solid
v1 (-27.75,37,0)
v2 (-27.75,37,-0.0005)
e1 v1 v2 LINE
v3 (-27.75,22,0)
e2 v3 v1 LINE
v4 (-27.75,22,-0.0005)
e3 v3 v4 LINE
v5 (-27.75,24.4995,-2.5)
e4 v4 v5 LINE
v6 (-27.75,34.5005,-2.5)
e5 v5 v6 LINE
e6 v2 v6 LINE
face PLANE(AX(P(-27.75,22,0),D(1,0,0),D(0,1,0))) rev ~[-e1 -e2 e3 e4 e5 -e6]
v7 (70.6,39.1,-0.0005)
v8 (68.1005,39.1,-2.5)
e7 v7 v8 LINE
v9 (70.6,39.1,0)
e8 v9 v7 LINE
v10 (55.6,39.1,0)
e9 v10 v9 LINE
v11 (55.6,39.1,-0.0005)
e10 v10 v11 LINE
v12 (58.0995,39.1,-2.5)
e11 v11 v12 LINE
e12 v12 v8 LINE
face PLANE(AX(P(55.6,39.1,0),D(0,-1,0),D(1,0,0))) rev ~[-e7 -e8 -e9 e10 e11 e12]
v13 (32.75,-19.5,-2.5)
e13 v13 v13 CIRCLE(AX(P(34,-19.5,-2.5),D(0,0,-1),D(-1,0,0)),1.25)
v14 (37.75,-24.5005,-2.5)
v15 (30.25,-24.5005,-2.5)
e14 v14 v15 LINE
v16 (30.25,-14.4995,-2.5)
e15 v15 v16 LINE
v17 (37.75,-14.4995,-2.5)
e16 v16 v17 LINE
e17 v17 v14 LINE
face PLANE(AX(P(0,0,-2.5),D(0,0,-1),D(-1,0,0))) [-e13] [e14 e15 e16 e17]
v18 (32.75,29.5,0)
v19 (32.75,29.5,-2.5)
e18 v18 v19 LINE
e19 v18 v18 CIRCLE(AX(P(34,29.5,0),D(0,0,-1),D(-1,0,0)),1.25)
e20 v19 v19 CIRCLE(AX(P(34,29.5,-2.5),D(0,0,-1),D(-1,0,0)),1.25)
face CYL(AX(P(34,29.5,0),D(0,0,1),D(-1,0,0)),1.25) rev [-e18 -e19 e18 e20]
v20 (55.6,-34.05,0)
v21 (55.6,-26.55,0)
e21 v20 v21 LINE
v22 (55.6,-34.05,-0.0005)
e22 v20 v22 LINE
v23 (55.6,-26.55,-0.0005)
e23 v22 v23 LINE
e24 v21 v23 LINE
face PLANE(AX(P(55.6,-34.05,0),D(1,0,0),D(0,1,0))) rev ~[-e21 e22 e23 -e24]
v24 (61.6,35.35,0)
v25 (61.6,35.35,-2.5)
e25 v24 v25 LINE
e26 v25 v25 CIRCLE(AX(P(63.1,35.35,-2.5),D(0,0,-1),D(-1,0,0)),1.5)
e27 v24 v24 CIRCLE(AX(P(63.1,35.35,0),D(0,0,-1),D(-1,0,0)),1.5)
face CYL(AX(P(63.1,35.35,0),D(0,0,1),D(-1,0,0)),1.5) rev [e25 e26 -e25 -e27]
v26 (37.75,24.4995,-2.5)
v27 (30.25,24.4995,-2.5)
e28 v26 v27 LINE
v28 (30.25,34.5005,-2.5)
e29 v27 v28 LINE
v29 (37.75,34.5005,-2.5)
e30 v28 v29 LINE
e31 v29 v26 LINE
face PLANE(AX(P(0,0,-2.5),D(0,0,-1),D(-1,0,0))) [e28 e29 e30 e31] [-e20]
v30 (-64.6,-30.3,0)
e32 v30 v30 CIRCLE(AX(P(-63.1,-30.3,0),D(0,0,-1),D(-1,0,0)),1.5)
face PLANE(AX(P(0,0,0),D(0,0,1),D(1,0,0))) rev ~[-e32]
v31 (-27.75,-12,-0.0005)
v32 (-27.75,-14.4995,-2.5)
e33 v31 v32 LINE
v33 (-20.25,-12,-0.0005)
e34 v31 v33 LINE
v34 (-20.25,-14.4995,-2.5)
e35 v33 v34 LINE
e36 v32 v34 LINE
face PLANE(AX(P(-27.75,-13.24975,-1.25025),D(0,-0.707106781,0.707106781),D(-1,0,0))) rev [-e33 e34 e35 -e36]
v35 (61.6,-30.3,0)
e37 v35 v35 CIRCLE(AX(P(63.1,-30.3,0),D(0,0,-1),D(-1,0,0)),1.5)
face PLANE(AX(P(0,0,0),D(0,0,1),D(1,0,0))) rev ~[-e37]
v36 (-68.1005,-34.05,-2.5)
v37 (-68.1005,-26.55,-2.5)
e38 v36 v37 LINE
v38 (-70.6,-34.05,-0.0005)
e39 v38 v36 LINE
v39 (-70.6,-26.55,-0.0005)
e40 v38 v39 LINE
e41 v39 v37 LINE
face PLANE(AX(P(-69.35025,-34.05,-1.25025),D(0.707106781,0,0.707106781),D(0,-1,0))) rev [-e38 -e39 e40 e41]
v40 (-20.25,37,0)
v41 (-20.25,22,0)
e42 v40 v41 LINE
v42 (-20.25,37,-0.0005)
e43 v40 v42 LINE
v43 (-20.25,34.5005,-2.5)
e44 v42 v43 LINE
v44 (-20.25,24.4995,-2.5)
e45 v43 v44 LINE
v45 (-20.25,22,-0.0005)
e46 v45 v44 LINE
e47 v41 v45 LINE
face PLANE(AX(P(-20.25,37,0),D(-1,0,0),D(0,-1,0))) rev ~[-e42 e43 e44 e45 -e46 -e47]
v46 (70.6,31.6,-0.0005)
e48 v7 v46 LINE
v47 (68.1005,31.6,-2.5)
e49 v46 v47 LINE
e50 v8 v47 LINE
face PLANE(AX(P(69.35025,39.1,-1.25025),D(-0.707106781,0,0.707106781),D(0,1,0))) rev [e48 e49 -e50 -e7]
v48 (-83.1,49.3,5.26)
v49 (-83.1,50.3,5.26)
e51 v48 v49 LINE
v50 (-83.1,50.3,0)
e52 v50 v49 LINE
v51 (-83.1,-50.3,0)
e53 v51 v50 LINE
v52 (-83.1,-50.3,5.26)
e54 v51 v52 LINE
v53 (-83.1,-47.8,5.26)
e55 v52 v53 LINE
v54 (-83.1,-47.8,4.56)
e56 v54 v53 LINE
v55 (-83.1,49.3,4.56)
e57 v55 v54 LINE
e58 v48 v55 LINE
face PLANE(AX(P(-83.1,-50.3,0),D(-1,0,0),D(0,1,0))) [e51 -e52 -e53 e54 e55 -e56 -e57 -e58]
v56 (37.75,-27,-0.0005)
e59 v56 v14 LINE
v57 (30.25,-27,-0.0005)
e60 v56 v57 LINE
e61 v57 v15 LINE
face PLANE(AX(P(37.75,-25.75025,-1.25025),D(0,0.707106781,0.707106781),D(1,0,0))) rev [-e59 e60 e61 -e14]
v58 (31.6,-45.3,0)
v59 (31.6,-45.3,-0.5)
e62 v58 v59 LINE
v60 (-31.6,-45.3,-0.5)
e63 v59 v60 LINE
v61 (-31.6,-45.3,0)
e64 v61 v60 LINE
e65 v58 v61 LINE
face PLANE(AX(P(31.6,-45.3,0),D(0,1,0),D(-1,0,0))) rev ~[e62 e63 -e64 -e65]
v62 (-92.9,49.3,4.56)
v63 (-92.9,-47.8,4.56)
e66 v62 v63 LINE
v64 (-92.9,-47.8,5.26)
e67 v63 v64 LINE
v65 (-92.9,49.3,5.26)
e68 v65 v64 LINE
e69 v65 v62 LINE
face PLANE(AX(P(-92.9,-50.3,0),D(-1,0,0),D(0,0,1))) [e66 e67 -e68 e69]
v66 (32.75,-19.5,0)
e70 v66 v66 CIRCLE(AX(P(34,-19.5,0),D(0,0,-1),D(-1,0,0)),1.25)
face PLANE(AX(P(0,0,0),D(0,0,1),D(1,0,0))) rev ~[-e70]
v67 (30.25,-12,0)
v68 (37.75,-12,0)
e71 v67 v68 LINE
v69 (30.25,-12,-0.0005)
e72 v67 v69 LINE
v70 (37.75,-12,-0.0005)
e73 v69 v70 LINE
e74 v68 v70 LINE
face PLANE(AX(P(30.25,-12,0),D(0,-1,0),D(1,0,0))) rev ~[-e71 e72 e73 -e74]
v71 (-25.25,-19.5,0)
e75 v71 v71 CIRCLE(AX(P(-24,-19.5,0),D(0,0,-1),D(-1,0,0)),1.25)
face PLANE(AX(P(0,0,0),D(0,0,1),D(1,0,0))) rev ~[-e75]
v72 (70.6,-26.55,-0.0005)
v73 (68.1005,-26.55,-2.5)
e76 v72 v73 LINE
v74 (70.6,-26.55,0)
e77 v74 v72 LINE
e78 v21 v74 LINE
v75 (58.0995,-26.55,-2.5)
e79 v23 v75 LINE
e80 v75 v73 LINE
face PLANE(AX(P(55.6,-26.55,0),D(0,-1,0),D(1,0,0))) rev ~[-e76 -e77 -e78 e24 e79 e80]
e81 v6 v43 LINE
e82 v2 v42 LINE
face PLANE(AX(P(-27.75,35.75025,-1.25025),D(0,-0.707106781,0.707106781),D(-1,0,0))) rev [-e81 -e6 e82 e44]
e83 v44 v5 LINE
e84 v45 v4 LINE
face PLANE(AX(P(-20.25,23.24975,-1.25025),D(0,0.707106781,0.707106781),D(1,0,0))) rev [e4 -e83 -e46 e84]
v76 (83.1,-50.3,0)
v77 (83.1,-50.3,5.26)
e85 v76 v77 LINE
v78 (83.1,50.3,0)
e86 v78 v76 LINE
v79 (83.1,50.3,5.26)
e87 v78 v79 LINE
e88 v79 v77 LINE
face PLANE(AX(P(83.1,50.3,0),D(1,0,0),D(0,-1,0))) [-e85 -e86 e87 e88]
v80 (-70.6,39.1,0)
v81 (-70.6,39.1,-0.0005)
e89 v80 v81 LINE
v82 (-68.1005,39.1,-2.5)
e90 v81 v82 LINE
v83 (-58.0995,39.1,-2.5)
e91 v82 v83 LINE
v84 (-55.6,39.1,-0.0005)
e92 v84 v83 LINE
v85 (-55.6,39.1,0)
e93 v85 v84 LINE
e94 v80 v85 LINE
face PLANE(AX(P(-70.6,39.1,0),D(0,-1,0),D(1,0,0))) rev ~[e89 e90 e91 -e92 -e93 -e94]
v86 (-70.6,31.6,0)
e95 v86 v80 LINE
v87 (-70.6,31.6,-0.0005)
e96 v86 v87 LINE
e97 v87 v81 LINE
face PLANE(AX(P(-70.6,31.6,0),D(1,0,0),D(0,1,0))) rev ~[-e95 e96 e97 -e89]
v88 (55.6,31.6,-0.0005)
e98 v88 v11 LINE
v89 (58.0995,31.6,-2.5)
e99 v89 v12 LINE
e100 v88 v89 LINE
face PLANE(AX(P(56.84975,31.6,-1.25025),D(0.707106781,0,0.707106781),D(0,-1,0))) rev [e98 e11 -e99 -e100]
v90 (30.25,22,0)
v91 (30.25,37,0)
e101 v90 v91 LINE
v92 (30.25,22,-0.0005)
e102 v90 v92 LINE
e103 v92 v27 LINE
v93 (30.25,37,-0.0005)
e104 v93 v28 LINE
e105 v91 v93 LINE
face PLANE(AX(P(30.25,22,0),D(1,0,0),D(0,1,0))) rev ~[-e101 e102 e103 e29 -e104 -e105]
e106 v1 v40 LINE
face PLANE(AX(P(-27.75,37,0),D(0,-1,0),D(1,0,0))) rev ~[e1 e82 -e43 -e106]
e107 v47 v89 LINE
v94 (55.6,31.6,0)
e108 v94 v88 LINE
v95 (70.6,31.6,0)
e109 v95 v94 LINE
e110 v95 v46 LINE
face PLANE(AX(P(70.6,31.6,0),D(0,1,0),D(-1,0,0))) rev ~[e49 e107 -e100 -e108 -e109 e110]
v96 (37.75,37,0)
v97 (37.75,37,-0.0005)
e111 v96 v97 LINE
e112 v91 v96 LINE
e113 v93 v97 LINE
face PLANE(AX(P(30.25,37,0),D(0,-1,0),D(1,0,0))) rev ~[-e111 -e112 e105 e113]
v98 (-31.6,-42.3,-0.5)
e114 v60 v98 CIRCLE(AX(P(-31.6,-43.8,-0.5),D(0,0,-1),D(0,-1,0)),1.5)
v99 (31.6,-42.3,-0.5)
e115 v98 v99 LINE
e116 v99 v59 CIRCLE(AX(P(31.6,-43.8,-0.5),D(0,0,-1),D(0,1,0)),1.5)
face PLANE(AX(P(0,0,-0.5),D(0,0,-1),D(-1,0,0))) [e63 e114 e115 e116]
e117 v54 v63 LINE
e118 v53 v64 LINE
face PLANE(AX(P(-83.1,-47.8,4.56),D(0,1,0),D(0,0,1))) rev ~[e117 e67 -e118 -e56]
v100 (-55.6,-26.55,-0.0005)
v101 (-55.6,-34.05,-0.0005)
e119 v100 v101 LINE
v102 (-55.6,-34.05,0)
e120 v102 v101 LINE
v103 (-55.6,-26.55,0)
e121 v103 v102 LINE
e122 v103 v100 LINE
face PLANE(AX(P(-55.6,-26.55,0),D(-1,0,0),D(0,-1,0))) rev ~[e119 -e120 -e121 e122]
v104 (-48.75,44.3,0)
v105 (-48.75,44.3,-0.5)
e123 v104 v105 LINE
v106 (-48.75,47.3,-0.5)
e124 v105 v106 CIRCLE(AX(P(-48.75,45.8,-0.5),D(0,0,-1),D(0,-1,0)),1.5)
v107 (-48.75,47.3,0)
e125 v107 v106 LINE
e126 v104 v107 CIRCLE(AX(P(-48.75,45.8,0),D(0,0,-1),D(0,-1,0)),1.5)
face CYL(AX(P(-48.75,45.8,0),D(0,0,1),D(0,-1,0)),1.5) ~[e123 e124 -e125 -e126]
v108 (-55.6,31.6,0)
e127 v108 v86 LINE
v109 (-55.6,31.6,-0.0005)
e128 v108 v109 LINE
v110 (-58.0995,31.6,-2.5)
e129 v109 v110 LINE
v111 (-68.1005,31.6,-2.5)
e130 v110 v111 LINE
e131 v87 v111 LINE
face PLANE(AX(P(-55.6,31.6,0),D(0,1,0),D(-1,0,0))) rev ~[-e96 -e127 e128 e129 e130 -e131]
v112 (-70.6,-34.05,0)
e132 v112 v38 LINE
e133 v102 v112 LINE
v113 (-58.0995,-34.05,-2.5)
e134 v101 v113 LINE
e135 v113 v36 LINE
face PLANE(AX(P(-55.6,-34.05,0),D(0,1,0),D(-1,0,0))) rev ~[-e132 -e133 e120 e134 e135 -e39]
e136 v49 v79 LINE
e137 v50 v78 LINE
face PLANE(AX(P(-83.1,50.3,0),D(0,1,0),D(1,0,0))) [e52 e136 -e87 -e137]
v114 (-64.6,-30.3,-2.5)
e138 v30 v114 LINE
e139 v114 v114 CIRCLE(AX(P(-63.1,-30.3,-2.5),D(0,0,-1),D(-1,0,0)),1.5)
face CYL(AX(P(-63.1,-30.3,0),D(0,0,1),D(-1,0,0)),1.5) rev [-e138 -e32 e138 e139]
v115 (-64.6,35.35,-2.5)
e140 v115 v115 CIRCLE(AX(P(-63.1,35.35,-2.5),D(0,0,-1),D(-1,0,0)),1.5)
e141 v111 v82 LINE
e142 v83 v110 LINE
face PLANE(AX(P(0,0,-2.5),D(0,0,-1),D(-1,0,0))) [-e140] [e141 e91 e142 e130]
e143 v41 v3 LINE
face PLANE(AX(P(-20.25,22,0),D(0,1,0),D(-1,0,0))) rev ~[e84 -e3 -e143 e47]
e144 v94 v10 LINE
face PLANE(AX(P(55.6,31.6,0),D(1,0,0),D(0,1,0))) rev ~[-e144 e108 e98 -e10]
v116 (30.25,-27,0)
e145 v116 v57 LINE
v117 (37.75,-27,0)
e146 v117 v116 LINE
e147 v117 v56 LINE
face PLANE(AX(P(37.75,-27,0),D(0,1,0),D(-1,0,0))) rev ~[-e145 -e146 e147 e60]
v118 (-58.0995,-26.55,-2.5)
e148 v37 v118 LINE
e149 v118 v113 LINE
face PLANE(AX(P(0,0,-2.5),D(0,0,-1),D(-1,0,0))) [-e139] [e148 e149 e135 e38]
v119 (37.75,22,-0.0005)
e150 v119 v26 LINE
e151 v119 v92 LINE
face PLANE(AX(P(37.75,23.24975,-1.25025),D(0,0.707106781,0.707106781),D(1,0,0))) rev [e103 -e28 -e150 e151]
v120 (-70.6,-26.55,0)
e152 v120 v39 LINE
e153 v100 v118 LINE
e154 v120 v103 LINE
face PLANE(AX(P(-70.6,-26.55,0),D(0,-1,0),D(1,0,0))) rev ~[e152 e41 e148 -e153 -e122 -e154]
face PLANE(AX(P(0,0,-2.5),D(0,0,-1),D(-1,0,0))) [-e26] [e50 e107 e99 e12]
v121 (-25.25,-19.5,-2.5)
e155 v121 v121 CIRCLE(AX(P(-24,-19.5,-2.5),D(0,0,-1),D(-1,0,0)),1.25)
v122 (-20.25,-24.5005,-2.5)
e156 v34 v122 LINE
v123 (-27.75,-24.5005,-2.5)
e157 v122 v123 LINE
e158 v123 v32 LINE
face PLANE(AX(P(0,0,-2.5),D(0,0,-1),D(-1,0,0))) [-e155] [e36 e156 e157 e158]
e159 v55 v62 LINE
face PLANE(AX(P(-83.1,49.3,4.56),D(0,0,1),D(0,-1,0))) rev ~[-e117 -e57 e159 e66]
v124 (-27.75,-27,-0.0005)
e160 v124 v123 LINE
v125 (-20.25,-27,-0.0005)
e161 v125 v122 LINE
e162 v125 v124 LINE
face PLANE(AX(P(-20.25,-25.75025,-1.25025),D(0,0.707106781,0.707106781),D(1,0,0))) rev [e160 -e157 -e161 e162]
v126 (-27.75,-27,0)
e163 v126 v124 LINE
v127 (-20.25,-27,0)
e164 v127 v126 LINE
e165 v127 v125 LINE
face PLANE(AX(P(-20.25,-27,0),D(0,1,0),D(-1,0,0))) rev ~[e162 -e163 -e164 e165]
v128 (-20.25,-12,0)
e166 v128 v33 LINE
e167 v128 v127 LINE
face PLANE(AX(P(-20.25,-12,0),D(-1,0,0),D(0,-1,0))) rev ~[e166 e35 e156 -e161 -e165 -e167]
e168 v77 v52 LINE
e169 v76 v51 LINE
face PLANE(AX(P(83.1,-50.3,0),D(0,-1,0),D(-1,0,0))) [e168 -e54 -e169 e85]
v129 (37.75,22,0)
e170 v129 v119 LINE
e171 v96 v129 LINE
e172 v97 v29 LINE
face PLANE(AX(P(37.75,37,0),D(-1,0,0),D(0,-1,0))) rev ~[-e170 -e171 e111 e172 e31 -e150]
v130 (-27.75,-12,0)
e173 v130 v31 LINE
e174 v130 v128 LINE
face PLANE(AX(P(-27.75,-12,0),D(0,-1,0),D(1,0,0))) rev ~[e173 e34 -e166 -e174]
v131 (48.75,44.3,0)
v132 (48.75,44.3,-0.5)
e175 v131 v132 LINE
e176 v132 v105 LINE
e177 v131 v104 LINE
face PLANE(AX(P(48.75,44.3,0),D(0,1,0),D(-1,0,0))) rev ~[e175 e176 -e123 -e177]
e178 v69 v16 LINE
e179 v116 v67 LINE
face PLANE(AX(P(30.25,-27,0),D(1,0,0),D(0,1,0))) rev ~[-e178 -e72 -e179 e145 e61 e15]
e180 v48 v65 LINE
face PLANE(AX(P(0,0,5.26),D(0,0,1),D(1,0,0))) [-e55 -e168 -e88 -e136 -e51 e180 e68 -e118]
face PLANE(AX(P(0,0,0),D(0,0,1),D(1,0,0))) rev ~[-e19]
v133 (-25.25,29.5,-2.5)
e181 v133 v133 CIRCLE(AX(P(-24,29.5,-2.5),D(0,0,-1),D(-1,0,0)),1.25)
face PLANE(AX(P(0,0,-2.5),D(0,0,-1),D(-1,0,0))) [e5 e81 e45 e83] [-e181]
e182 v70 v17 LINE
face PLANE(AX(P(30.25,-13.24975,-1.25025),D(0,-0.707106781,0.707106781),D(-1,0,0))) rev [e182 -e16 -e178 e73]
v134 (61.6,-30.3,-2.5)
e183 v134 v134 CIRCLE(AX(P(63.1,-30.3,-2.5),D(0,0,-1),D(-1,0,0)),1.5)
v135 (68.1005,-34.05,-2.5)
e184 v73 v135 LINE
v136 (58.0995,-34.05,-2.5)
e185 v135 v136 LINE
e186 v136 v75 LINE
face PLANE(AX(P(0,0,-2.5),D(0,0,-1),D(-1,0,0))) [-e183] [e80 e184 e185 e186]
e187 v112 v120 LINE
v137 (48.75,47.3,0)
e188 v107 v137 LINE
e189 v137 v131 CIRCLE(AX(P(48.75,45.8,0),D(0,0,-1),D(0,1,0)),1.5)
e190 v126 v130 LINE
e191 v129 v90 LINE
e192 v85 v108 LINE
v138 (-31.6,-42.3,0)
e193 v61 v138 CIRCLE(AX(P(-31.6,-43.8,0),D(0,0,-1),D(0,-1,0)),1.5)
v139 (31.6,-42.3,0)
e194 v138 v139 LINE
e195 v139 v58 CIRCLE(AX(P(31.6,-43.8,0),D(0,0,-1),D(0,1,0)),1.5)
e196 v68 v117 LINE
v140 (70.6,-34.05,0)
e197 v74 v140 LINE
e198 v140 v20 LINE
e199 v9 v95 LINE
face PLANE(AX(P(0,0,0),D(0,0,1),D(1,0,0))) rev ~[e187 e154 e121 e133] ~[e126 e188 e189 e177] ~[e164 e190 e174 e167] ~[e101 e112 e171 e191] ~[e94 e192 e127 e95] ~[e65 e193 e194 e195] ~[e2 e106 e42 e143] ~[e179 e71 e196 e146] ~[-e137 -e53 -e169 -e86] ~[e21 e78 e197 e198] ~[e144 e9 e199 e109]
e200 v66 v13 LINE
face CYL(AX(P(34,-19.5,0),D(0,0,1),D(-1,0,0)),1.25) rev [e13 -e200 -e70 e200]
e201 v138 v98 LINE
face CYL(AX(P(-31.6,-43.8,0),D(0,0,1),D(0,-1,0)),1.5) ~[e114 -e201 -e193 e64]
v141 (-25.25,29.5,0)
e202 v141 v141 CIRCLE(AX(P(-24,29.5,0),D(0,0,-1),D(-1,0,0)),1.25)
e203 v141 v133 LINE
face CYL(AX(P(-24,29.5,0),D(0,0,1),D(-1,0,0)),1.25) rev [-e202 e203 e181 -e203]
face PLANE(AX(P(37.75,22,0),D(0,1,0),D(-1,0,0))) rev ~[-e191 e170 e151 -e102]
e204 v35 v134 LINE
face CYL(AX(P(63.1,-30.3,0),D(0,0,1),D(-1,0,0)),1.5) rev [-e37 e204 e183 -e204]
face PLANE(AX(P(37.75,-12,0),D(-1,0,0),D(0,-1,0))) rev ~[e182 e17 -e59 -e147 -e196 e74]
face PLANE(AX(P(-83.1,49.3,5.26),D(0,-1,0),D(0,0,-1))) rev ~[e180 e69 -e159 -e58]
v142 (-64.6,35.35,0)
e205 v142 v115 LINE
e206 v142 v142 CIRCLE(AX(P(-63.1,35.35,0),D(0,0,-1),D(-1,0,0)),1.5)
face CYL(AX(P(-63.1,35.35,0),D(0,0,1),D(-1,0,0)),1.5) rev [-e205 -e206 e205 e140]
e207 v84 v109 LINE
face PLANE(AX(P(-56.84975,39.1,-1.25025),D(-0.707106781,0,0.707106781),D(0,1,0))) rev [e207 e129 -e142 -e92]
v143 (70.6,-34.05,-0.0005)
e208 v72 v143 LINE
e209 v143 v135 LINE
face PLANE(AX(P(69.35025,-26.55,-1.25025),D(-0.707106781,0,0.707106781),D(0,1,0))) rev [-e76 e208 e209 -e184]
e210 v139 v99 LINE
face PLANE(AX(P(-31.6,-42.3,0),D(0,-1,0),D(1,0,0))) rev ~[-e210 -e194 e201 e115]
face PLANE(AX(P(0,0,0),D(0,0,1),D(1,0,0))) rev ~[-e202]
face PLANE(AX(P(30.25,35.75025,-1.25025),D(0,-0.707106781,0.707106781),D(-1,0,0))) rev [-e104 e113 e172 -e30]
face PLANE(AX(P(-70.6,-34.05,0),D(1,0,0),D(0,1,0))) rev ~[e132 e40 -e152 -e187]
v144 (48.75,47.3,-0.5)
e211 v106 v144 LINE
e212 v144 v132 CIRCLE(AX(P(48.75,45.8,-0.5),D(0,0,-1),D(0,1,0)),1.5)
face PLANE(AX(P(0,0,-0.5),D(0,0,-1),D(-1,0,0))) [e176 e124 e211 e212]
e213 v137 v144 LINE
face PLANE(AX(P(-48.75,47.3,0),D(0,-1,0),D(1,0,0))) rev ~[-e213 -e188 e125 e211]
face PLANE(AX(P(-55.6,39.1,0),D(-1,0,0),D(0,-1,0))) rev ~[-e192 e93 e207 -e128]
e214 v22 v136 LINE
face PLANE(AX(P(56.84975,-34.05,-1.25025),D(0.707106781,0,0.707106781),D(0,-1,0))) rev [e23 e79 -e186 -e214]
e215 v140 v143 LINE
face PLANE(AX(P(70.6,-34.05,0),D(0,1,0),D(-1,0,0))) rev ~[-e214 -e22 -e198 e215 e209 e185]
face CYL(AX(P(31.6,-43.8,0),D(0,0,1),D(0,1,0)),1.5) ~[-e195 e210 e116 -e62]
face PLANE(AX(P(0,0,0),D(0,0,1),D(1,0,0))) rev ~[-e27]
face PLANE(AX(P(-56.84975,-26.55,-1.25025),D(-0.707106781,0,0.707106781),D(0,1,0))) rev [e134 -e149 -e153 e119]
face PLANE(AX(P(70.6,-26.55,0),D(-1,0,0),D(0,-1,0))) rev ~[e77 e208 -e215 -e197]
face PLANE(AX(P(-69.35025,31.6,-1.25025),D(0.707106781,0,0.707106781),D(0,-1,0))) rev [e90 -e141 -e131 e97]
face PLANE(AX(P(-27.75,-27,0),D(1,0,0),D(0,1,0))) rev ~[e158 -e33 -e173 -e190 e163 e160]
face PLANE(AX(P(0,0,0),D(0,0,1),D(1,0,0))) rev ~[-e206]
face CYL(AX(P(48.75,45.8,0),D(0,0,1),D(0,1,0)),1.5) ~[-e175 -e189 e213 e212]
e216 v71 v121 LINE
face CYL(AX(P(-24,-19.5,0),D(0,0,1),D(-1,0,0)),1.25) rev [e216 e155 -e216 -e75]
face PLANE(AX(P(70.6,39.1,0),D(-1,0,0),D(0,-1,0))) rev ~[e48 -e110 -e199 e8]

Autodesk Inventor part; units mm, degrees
ref_plane "YZ Plane" through (0, 0, 0) normal (1, 0, 0) x (0, 1, 0)
ref_plane "XZ Plane" through (0, 0, 0) normal (0, 1, 0) x (-1, 0, 0)
ref_plane "XY Plane" through (0, 0, 0) normal (0, 0, 1) x (1, 0, 0)
sketch "Skizze1" plane through (0, 0, 0) normal (0, 0, 1) x (1, 0, 0)
  line L0 (-83.1, 50.3) -> (83.1, 50.3)
  line L1 (83.1, 50.3) -> (83.1, -50.3)
  line L2 (83.1, -50.3) -> (-83.1, -50.3)
  line L3 (-83.1, -50.3) -> (-83.1, 50.3)
  point P0 (0, 0)
  point P1 (83.1, 0)
  point P2 (0, 50.3)
  dimension "d0" = 166.2
  dimension "d1" = 100.6
extrude "Extrusion1" add sketch "Skizze1" along normal blind 5.26
sketch "Skizze2" plane through (0, 0, 0) normal (0, 0, -1) x (-1, 0, 0)
  line L0 (-83.1, 50.3) -> (-83.1, -50.3) projected
  line L1 (83.1, -50.3) -> (83.1, 50.3) projected
  line L2 (83.1, 50.3) -> (-83.1, 50.3) projected
  line L3 (-70.6, 31.6) -> (-55.6, 31.6)
  line L4 (-55.6, 31.6) -> (-55.6, 39.1)
  line L5 (-55.6, 39.1) -> (-70.6, 39.1)
  line L6 (-70.6, 39.1) -> (-70.6, 31.6)
  line L7 (-70.6, 31.6) -> (-55.6, 39.1) construction
  line L8 (-55.6, 31.6) -> (-70.6, 39.1) construction
  circle A0 centre (-63.1, 35.35) radius 1.5
  line L9 (55.6, 31.6) -> (70.6, 31.6)
  line L10 (70.6, 31.6) -> (70.6, 39.1)
  line L11 (70.6, 39.1) -> (55.6, 39.1)
  line L12 (55.6, 39.1) -> (55.6, 31.6)
  line L13 (55.6, 31.6) -> (70.6, 39.1) construction
  line L14 (70.6, 31.6) -> (55.6, 39.1) construction
  circle A1 centre (63.1, 35.35) radius 1.5
  line L15 (-55.6, -34.05) -> (-55.6, -26.55)
  circle A2 centre (-63.1, -30.3) radius 1.5
  line L16 (-70.6, -34.05) -> (-55.6, -34.05)
  line L17 (-70.6, -34.05) -> (-55.6, -26.55) construction
  line L18 (-55.6, -34.05) -> (-70.6, -26.55) construction
  line L19 (-55.6, -26.55) -> (-70.6, -26.55)
  line L20 (-70.6, -26.55) -> (-70.6, -34.05)
  line L21 (55.6, -26.55) -> (55.6, -34.05)
  circle A3 centre (63.1, -30.3) radius 1.5
  line L22 (70.6, -34.05) -> (70.6, -26.55)
  line L23 (70.6, -26.55) -> (55.6, -26.55)
  line L24 (55.6, -34.05) -> (70.6, -26.55) construction
  line L25 (70.6, -34.05) -> (55.6, -26.55) construction
  line L26 (55.6, -34.05) -> (70.6, -34.05)
  point P0 (0, 0)
  point P1 (63.1, 35.35)
  point P2 (-63.1, -30.3)
  point P3 (63.1, -30.3)
  point P4 (63.1, -30.3)
  dimension "d4" = 20
  dimension "d7" = 126.2
  dimension "d9" = 14.95
  dimension "d10" = 65.65
  dimension "d11" = 15
  dimension "d12" = 7.5
  dimension "d19" = 3
  dimension "d50" = 126.2
  dimension "d57" = 65.65
extrude "Extrusion2" add sketch "Skizze2" along normal blind 2.5
sketch "Skizze3" plane through (0, 0, 0) normal (0, 0, -1) x (-1, 0, 0)
  line L0 (-82.45, 50.3) -> (82.45, 50.3)
  line L1 (82.45, 50.3) -> (82.45, -50.3)
  line L2 (82.45, -50.3) -> (-82.45, -50.3)
  line L3 (-82.45, -50.3) -> (-82.45, 50.3)
  line L4 (-37.75, 22) -> (-30.25, 22)
  line L5 (-30.25, 22) -> (-30.25, 37)
  line L6 (-30.25, 37) -> (-37.75, 37)
  line L7 (-37.75, 37) -> (-37.75, 22)
  line L8 (-37.75, 22) -> (-30.25, 37) construction
  line L9 (-30.25, 22) -> (-37.75, 37) construction
  circle A0 centre (-34, 29.5) radius 1.25
  line L10 (20.25, 22) -> (27.75, 22)
  line L11 (27.75, 22) -> (27.75, 37)
  line L12 (27.75, 37) -> (20.25, 37)
  line L13 (20.25, 37) -> (20.25, 22)
  line L14 (20.25, 22) -> (27.75, 37) construction
  line L15 (27.75, 22) -> (20.25, 37) construction
  circle A1 centre (24, 29.5) radius 1.25
  line L16 (-37.75, -27) -> (-30.25, -27)
  line L17 (-30.25, -27) -> (-30.25, -12)
  line L18 (-30.25, -12) -> (-37.75, -12)
  line L19 (-37.75, -12) -> (-37.75, -27)
  line L20 (-37.75, -27) -> (-30.25, -12) construction
  line L21 (-30.25, -27) -> (-37.75, -12) construction
  circle A2 centre (-34, -19.5) radius 1.25
  line L22 (20.25, -27) -> (27.75, -27)
  line L23 (27.75, -27) -> (27.75, -12)
  line L24 (27.75, -12) -> (20.25, -12)
  line L25 (20.25, -12) -> (20.25, -27)
  line L26 (20.25, -27) -> (27.75, -12) construction
  line L27 (27.75, -27) -> (20.25, -12) construction
  circle A3 centre (24, -19.5) radius 1.25
  point P0 (0, 0)
  point P1 (-82.45, 0)
  point P2 (0, 50.3)
  point P3 (-34, -19.5)
  point P4 (24, -19.5)
  dimension "d25" = 164.9
  dimension "d26" = 100.6
  dimension "d27" = 48.45
  dimension "d28" = 58
  dimension "d29" = 20.8
  dimension "d30" = 49
  dimension "d31" = 7.5
  dimension "d32" = 15
  dimension "d33" = 2.5
  dimension "d64" = 58
  dimension "d67" = 49
extrude "Extrusion3" add sketch "Skizze3" along normal blind 2.5 contours L7 L6 L5 L4 | L13 L12 L11 L10 | L19 L18 L17 L16 | L25 L24 L23 L22
chamfer "Fase1" distance 2.5 angle 45 16 edges at (70.6, 35.35, -2.5) (55.6, 35.35, -2.5) (34, 22, -2.5) (34, 37, -2.5) (70.6, -30.3, -2.5) (55.6, -30.3, -2.5) (-55.6, -30.3, -2.5) (-70.6, -30.3, -2.5) (-70.6, 35.35, -2.5) (-55.6, 35.35, -2.5) (34, -12, -2.5) (34, -27, -2.5) (-24, -12, -2.5) (-24, -27, -2.5) (-24, 22, -2.5) (-24, 37, -2.5)
sketch "Skizze4" plane through (0, 0, 0) normal (0, 0, -1) x (-1, 0, 0)
  line L0 (-50.25, 45.8) -> (50.25, 45.8) construction
  line L1 (-48.75, 44.3) -> (48.75, 44.3)
  line L2 (48.75, 47.3) -> (-48.75, 47.3)
  arc A0 (-48.75, 47.3) -> (-48.75, 44.3) centre (-48.75, 45.8) ccw
  arc A1 (48.75, 44.3) -> (48.75, 47.3) centre (48.75, 45.8) ccw
  line L3 (-83.1, 50.3) -> (-83.1, -50.3) projected
  line L4 (83.1, 50.3) -> (-83.1, 50.3) projected
  line L5 (-33.1, -43.8) -> (33.1, -43.8) construction
  line L6 (-31.6, -45.3) -> (31.6, -45.3)
  line L7 (31.6, -42.3) -> (-31.6, -42.3)
  arc A2 (-31.6, -42.3) -> (-31.6, -45.3) centre (-31.6, -43.8) ccw
  arc A3 (31.6, -45.3) -> (31.6, -42.3) centre (31.6, -43.8) ccw
  line L8 (-83.1, -50.3) -> (83.1, -50.3) projected
  line L9 (83.1, -50.3) -> (83.1, 50.3) projected
  point P0 (0, 0)
  point P1 (0, 45.8)
  point P2 (0, -43.8)
  dimension "d70" = 100.5
  dimension "d71" = 3
  dimension "d73" = 3
  dimension "d74" = 3
  dimension "d75" = 5
  dimension "d76" = 50
  dimension "d77" = 50
extrude "Extrusion4" add sketch "Skizze4" along normal blind 0.5 contours A0 L2 A1 L1 | A2 L7 A3 L6
sketch "Skizze6" plane through (-83.1, -50.3, 0) normal (-1, 0, 0) x (0, 0, 1)
  line L0 (5.26, 100.6) -> (5.26, 0) projected
  line L1 (5.26, 99.6) -> (4.56, 99.6)
  line L2 (4.56, 99.6) -> (4.56, 2.5)
  line L3 (4.56, 2.5) -> (5.26, 2.5)
  line L4 (5.26, 2.5) -> (5.26, 99.6)
  line L5 (0, 0) -> (5.26, 0) projected
  line L6 (0, 100.6) -> (5.26, 100.6) projected
  point P0 (0, 50.3)
  dimension "d83" = 0.7
  dimension "d84" = 2.5
  dimension "d85" = 1
extrude "Extrusion6" add sketch "Skizze6" along normal blind 9.8
equation "\"d77\" = d76"
properties part number "Display Controller" material "Stahl, galvanisiert"
